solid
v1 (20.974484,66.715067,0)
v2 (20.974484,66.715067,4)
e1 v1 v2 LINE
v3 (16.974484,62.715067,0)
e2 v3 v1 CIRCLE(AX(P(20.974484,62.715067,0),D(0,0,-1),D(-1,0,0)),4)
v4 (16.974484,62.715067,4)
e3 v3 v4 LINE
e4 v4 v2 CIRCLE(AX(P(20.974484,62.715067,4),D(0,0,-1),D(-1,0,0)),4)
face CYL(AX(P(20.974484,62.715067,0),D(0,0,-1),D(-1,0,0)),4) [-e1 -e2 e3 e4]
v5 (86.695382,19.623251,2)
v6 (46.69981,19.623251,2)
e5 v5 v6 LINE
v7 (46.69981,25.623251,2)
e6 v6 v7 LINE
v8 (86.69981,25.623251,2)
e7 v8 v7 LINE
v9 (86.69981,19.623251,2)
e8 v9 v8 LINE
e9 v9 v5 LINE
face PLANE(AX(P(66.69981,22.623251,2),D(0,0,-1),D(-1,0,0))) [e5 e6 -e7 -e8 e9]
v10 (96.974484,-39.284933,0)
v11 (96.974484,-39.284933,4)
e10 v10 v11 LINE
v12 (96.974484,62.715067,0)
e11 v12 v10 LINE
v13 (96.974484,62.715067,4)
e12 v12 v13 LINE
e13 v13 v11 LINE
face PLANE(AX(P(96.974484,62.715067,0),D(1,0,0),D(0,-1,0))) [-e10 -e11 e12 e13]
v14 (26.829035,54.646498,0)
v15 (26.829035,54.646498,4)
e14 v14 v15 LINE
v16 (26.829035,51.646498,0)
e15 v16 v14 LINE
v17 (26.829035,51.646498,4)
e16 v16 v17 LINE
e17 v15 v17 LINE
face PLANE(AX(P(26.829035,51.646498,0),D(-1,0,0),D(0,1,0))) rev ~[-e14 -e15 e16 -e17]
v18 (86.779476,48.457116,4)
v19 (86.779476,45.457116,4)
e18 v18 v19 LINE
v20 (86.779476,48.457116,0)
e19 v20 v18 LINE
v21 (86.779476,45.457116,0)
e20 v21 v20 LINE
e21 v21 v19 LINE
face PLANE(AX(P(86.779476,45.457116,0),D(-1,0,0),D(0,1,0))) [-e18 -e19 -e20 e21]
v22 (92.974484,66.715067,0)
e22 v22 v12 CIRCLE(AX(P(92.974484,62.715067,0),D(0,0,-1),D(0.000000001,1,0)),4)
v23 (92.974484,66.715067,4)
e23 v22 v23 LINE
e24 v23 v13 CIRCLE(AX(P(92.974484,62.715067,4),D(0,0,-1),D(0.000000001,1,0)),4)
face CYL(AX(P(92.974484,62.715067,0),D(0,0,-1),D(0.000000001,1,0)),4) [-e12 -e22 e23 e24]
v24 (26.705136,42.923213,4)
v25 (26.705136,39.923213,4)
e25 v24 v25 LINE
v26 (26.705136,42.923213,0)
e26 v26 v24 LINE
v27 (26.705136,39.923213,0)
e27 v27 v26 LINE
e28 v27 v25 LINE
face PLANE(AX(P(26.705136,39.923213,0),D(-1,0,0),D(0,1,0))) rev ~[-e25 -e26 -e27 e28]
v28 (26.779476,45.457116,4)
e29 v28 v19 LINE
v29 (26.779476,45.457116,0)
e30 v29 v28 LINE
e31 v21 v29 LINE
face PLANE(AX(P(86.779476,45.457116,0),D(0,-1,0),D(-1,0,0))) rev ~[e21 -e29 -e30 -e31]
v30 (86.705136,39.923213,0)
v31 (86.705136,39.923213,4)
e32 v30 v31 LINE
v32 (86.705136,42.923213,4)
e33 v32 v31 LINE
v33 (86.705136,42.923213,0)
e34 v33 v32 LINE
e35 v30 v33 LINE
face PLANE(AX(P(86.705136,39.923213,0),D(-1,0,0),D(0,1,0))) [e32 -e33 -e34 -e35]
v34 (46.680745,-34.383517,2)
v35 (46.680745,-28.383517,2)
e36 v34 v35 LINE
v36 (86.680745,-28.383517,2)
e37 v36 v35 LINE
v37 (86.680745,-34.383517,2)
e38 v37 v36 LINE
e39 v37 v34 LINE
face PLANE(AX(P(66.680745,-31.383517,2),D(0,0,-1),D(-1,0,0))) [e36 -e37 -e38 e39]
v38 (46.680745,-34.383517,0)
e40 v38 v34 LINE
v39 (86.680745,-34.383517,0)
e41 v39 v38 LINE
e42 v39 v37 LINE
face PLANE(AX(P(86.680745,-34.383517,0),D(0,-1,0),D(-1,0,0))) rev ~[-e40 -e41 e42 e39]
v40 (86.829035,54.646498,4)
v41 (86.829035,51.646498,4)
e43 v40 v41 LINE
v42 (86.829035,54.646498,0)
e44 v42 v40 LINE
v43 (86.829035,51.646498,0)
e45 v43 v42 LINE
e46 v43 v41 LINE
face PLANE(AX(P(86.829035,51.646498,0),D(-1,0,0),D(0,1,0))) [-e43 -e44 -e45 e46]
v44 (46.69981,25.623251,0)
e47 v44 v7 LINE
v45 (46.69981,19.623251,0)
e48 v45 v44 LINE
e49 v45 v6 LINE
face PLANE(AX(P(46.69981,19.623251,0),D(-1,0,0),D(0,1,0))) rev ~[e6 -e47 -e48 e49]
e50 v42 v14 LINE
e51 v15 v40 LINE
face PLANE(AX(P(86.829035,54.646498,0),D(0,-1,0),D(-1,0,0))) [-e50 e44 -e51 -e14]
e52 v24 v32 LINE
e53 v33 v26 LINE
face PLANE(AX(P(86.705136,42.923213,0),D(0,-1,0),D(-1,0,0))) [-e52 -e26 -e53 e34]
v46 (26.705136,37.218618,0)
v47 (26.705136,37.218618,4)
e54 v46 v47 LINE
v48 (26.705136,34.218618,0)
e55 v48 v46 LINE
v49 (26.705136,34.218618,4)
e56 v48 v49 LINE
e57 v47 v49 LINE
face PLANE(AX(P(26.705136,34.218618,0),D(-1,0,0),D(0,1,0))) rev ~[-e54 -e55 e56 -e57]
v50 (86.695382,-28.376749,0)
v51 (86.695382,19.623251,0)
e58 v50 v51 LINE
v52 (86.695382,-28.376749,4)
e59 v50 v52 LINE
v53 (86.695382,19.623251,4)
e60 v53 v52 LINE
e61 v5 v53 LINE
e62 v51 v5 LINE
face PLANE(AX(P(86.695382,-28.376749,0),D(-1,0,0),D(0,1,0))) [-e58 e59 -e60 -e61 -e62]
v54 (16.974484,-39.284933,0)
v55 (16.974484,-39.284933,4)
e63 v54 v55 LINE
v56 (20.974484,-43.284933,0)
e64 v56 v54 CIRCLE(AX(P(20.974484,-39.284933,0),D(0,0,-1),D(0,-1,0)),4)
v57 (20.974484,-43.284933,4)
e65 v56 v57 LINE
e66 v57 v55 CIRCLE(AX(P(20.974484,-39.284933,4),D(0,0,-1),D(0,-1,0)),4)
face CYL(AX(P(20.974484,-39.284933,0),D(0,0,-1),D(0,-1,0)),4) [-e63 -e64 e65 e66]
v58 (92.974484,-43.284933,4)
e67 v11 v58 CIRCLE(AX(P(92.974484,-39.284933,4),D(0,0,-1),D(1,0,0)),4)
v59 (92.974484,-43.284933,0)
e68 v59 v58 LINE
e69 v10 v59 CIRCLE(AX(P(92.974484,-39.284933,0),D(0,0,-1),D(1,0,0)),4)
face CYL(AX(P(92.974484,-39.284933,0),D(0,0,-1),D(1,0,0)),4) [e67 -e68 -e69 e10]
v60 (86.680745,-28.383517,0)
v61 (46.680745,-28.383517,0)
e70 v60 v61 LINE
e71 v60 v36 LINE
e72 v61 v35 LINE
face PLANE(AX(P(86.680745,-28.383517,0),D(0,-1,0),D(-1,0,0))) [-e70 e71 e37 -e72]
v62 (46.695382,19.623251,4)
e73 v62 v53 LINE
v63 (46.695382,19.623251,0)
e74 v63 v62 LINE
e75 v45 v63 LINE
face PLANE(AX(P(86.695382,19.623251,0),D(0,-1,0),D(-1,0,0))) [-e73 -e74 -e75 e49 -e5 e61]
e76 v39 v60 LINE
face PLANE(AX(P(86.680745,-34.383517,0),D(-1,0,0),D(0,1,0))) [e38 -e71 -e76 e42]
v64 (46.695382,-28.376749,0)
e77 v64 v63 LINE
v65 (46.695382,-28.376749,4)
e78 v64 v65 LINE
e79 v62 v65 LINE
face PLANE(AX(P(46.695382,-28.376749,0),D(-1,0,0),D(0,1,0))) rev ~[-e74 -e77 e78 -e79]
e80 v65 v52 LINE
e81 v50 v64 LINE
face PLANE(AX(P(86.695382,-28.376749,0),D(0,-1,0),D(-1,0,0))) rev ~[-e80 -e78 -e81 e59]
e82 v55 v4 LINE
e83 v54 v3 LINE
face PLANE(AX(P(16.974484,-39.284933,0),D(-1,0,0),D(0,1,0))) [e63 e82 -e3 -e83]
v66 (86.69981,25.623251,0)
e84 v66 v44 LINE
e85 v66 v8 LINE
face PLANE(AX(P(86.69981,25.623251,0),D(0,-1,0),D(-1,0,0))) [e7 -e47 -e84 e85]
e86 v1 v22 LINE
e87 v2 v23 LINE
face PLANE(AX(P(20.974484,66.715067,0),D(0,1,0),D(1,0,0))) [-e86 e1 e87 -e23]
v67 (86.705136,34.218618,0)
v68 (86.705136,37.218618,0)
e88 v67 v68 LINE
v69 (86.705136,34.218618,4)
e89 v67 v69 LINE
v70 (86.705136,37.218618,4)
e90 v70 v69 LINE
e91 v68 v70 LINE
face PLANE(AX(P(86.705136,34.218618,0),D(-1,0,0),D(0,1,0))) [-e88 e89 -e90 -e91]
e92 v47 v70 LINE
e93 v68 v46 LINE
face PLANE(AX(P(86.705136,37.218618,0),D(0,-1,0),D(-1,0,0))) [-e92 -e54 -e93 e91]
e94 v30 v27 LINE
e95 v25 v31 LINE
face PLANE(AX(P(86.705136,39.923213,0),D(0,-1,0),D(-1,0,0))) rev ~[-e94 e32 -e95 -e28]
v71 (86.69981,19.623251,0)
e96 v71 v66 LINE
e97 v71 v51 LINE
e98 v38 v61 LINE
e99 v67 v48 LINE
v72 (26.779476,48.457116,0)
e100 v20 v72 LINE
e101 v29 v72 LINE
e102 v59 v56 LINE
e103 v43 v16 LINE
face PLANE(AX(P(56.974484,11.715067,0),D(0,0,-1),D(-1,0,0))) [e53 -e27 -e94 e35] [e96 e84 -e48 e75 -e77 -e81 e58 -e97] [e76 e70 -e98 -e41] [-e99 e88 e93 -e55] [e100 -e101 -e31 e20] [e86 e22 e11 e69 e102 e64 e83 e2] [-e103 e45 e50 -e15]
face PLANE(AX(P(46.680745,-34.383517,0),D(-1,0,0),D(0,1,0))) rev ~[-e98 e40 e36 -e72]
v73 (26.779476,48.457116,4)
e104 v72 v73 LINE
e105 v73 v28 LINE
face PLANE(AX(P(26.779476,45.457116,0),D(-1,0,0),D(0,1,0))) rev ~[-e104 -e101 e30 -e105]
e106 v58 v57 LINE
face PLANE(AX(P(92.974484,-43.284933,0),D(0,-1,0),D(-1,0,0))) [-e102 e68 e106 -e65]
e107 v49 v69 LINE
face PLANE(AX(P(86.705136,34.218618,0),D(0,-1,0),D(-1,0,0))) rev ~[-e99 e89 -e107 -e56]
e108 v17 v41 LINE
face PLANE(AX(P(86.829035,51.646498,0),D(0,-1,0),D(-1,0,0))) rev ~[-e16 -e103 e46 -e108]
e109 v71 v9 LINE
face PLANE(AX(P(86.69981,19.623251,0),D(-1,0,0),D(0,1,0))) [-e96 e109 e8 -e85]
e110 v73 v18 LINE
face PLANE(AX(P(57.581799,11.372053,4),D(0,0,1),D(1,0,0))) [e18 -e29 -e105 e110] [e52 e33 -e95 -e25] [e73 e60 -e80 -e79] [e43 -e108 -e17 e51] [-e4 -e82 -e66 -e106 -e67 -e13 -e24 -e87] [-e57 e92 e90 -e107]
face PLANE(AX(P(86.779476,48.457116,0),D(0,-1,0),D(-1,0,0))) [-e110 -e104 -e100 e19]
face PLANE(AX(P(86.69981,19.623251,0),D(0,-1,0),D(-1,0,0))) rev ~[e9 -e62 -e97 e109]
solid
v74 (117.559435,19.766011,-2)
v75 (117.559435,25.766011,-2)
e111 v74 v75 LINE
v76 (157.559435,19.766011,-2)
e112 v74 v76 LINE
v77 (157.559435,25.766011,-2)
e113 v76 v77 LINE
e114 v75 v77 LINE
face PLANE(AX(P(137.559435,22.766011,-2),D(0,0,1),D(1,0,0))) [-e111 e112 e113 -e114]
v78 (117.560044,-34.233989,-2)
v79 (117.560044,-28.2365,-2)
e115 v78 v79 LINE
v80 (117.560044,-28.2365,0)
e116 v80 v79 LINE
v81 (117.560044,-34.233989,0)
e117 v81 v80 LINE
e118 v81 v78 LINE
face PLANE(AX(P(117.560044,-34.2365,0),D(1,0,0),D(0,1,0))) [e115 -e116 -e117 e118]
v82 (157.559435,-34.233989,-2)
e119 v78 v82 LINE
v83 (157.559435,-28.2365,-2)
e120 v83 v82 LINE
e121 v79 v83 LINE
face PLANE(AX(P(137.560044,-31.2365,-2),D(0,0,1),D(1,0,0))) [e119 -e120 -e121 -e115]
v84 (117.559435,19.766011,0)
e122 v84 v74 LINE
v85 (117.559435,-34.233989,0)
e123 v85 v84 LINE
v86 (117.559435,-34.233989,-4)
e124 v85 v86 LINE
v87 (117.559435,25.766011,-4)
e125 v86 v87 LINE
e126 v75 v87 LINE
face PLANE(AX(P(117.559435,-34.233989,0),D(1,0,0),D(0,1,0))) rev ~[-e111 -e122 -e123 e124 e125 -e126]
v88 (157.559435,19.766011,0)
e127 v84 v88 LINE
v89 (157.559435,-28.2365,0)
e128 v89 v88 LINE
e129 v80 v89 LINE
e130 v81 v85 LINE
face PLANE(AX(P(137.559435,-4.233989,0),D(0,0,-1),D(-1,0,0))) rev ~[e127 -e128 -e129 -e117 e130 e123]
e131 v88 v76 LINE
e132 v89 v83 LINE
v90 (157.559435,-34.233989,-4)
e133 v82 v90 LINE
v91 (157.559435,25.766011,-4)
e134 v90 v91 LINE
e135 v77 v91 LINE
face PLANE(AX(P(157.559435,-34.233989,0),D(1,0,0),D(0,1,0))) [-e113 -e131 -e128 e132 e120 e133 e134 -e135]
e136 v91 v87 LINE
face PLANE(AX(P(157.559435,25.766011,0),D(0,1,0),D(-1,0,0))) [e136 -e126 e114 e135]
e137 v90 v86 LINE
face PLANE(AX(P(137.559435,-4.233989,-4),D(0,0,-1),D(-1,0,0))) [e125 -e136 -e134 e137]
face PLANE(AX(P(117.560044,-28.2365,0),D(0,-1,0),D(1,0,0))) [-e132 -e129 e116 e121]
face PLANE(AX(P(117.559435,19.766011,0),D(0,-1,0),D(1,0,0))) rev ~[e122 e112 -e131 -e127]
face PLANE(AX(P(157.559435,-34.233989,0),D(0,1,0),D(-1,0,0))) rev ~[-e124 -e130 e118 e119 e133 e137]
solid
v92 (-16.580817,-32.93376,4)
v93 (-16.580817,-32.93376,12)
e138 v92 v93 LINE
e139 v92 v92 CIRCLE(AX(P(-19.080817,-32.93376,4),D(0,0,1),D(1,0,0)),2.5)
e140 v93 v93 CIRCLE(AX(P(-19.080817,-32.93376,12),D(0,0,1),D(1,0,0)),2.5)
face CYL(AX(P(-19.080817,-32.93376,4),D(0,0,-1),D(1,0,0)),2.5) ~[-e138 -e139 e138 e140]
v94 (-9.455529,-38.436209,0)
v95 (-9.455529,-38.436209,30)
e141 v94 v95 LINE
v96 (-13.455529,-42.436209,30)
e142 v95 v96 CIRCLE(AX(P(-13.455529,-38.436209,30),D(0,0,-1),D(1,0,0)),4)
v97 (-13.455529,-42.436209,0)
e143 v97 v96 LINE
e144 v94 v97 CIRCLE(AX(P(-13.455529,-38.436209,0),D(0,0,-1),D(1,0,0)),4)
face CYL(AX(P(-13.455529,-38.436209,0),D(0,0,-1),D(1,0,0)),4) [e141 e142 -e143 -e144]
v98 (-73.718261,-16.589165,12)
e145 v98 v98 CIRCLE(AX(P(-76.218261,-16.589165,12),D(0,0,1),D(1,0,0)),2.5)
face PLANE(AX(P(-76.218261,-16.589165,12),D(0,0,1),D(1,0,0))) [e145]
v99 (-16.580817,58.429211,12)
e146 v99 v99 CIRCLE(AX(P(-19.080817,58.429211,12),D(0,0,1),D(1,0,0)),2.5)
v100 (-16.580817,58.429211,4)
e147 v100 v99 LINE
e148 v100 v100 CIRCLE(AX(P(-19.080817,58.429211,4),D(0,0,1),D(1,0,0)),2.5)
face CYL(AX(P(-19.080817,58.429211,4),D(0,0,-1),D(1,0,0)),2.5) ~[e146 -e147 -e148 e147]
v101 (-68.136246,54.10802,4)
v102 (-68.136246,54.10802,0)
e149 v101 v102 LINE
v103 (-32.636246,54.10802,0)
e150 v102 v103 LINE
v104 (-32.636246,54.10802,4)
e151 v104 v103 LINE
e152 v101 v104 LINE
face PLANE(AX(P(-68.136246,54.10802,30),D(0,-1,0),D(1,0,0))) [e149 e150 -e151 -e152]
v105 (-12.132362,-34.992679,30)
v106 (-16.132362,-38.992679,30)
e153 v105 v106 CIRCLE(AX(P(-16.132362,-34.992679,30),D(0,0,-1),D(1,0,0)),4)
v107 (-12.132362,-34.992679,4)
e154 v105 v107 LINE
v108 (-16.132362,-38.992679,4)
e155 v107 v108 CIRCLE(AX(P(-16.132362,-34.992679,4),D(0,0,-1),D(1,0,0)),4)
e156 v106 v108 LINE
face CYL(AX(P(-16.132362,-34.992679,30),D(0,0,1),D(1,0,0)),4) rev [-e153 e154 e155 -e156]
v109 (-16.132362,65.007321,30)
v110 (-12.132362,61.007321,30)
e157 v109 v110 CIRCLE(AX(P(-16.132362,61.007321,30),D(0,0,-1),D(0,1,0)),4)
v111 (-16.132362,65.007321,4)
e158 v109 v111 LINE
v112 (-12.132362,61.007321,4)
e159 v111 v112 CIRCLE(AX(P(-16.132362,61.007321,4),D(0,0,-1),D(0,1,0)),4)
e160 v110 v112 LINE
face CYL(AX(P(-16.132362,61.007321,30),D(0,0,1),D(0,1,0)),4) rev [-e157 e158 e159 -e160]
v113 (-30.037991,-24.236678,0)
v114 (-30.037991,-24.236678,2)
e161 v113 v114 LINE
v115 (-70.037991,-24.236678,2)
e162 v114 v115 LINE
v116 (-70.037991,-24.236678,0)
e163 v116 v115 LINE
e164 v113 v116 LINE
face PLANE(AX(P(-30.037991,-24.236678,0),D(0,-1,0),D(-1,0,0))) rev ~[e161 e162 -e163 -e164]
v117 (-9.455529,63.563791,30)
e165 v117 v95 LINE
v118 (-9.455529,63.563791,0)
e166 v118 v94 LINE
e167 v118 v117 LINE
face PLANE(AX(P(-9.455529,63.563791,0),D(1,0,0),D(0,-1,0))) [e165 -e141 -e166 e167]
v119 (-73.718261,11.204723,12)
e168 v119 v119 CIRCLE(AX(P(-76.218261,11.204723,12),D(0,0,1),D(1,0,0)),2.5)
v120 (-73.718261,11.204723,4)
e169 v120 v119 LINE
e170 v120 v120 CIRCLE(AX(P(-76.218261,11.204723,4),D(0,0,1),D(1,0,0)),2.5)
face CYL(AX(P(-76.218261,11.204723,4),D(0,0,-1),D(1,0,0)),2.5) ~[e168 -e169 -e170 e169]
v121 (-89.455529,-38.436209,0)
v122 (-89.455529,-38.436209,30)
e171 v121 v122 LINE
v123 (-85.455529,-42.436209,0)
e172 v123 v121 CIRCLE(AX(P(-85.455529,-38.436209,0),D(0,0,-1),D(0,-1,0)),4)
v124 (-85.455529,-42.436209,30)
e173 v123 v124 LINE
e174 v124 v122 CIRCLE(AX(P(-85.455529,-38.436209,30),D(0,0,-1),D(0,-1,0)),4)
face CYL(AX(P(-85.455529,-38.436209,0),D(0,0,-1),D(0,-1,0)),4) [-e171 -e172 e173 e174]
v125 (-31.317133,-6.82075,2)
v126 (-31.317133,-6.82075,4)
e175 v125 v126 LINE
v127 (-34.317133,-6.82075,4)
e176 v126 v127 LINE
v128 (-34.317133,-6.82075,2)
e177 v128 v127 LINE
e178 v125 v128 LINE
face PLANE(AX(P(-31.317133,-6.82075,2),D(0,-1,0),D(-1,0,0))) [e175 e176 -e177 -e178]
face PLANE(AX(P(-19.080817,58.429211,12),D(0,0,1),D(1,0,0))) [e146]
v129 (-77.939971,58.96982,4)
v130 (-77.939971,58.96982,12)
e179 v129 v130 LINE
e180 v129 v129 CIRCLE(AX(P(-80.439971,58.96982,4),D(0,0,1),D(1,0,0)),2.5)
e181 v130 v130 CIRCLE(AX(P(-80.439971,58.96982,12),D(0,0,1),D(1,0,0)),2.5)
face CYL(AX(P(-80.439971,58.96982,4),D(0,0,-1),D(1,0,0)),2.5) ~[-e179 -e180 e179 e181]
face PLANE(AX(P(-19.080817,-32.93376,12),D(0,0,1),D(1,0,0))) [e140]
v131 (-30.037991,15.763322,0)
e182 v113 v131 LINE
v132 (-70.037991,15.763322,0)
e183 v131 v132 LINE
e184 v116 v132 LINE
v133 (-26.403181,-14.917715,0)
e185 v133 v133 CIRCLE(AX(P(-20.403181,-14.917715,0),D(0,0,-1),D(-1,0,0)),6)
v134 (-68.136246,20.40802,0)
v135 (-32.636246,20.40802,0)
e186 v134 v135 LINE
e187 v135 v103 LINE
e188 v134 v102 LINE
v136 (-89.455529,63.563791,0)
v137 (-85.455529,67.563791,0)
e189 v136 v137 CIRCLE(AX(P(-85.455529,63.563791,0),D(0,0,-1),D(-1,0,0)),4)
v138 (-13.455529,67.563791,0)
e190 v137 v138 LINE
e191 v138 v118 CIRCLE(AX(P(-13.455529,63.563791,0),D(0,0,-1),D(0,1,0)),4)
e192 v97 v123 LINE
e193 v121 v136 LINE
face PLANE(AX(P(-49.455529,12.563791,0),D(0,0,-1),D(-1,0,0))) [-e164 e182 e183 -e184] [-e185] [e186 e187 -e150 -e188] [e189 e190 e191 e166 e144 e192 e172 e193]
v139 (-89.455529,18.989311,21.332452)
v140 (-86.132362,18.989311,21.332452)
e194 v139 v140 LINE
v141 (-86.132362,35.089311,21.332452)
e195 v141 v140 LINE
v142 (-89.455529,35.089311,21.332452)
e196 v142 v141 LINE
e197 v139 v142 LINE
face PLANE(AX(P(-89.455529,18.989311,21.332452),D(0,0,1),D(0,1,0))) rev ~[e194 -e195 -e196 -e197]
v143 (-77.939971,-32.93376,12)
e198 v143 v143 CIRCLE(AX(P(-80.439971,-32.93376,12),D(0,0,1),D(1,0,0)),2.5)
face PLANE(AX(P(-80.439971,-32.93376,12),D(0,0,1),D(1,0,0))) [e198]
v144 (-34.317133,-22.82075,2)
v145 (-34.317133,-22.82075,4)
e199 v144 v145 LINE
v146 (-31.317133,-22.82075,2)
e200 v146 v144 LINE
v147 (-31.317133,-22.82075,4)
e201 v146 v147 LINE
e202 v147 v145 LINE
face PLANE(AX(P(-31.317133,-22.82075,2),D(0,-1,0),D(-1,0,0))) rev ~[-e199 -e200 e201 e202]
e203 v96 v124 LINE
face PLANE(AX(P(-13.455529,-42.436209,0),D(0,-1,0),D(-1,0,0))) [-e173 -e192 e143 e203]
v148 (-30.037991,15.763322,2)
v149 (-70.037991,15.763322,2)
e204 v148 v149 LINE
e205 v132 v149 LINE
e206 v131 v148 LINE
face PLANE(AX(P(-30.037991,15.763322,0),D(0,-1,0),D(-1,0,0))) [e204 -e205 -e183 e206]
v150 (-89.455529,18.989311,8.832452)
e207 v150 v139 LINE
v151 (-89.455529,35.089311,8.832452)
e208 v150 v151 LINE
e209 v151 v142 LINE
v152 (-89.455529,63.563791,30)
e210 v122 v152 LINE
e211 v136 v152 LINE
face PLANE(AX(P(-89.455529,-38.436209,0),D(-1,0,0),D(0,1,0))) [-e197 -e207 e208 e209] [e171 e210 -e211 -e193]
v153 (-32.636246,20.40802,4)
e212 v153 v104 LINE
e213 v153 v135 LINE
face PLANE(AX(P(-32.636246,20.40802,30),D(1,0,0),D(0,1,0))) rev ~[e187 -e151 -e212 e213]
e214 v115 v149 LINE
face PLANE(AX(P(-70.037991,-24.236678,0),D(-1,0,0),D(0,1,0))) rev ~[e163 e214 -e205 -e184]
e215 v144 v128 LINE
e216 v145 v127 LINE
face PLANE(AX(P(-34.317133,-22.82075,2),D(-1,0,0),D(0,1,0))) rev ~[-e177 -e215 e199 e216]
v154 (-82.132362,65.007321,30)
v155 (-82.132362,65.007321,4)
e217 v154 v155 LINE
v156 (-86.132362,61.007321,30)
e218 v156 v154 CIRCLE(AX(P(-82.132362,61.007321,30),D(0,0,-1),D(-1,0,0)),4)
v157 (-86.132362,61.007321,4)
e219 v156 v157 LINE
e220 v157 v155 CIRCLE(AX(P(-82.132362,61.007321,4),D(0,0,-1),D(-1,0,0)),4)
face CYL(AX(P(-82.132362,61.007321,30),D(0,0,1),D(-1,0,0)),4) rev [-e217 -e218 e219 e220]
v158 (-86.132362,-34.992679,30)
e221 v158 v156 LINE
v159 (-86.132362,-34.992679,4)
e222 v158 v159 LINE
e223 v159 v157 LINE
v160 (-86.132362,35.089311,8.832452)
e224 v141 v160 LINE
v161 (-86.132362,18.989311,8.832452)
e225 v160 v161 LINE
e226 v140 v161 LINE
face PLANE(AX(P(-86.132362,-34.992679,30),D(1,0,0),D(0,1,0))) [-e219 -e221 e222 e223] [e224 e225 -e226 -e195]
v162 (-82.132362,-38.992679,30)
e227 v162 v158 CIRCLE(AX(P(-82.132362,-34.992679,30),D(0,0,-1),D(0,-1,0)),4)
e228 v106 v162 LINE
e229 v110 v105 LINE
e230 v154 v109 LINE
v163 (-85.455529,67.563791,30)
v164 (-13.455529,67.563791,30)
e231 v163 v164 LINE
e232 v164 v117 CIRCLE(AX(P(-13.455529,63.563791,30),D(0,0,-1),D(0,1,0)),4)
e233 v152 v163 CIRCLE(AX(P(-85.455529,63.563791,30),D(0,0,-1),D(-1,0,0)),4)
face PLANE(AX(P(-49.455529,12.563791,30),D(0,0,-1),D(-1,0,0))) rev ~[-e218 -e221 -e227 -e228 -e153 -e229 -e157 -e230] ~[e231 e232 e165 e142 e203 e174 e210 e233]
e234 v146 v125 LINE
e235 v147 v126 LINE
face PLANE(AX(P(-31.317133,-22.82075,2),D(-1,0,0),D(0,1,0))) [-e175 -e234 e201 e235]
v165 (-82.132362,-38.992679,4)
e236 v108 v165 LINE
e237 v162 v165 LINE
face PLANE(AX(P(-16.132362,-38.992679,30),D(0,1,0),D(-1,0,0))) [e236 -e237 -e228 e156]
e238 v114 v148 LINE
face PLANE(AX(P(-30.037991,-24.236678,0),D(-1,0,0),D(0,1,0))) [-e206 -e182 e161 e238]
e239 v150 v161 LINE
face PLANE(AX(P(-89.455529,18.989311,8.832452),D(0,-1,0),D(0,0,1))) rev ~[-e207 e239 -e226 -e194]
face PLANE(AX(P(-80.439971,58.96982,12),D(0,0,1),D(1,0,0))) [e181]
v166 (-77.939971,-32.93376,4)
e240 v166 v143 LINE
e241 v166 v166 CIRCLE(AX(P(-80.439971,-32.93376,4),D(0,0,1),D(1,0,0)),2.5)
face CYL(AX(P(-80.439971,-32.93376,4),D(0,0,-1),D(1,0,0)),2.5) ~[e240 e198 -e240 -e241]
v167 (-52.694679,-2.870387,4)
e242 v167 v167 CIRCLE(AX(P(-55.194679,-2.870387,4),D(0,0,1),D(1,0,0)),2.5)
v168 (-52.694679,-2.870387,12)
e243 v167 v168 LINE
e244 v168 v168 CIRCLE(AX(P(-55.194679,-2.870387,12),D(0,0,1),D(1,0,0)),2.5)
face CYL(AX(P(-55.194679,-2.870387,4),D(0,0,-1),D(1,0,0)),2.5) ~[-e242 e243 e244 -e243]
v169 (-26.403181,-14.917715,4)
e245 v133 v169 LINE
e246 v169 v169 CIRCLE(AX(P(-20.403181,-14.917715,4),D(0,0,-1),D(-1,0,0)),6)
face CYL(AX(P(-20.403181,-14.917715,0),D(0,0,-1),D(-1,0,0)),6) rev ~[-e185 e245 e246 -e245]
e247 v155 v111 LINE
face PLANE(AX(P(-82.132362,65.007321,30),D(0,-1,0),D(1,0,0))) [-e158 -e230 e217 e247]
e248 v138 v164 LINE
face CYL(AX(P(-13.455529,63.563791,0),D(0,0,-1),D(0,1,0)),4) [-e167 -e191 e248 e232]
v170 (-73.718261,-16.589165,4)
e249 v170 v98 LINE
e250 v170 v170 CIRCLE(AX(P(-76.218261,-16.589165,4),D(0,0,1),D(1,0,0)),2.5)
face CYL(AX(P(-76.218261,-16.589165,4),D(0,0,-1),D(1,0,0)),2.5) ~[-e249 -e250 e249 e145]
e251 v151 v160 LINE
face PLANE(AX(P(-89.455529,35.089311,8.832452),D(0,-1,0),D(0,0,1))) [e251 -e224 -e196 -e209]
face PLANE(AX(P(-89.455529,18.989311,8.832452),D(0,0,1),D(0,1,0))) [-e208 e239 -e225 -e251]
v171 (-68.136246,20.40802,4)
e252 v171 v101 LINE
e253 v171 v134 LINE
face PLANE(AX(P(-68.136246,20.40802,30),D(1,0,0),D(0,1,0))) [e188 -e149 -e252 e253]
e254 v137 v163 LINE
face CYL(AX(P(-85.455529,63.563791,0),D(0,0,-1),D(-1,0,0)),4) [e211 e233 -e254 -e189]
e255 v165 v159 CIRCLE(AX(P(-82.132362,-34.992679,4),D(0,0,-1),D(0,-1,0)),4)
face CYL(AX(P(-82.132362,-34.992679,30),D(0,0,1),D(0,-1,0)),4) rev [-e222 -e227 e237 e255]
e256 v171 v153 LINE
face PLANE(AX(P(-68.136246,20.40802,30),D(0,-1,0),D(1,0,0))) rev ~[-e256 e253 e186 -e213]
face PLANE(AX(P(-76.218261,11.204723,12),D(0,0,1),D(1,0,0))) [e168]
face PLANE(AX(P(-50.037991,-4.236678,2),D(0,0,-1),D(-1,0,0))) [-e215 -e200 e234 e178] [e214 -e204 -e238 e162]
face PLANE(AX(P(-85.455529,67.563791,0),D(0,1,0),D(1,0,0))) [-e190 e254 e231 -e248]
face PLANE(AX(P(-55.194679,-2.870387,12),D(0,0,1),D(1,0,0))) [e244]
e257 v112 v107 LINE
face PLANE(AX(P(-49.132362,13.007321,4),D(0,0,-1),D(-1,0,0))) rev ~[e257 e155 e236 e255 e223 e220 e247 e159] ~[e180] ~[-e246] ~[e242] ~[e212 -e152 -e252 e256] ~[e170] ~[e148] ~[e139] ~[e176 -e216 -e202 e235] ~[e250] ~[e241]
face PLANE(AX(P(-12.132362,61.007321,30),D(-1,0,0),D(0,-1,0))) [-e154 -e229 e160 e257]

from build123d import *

# Parameters (mm, degrees)
BOSS_EXTRUDE1_DEPTH     = 30
BOSS_EXTRUDE1_2_DEPTH   = 30
CUT_EXTRUDE1_DEPTH      = 30
CUT_EXTRUDE1_DEPTH_BACK = 30
SKETCH2_W               = 35.5
SKETCH2_H               = 33.7
CUT_EXTRUDE3_DEPTH      = 26
SKETCH6_R               = 2.5
BOSS_EXTRUDE4_DEPTH     = 8
SKETCH7_W               = 40
SKETCH7_H               = 40
CUT_EXTRUDE4_DEPTH      = 2
SKETCH8_W               = 3
SKETCH8_H               = 16
CUT_EXTRUDE6_DEPTH      = 10
SKETCH9_R               = 6
CUT_EXTRUDE7_DEPTH      = 10
SKETCH10_W              = 12.5
SKETCH10_H              = 16.1
CUT_EXTRUDE8_DEPTH      = 10
SKETCH11_W              = 95.321687865
SKETCH11_H              = 120.330039434
CUT_EXTRUDE9_DEPTH      = 26
SKETCH12_W              = 60
SKETCH12_H              = 3
CUT_EXTRUDE10_DEPTH     = 10
SKETCH13_W              = 40
SKETCH13_H              = 48
CUT_EXTRUDE11_DEPTH     = 10
SKETCH14_W              = 40
SKETCH14_H              = 60
BOSS_EXTRUDE5_DEPTH     = 4
SKETCH15_W              = 40
SKETCH15_H              = 6
CUT_EXTRUDE12_DEPTH     = 2
SKETCH16_W              = 40
SKETCH16_H              = 6
CUT_EXTRUDE16_DEPTH     = 2


with BuildPart() as part:
    # Sketch1 → Boss-Extrude1 (new body)
    with BuildSketch(Plane.XY):
        with BuildLine():
            Line((20.974483597, 66.715066829), (92.974483597, 66.715066829))
            ThreePointArc((92.974483597, 66.715066829), (95.802910721, 65.543493953), (96.974483597, 62.715066829))
            Line((96.974483597, 62.715066829), (96.974483597, -39.284933171))
            ThreePointArc((96.974483597, -39.284933171), (95.802910721, -42.113360296), (92.974483597, -43.284933171))
            Line((92.974483597, -43.284933171), (20.974483597, -43.284933171))
            ThreePointArc((20.974483597, -43.284933171), (18.146056472, -42.113360296), (16.974483597, -39.284933171))
            Line((16.974483597, -39.284933171), (16.974483597, 62.715066829))
            ThreePointArc((16.974483597, 62.715066829), (18.146056472, 65.543493953), (20.974483597, 66.715066829))
        make_face()
    extrude(amount=BOSS_EXTRUDE1_DEPTH)


with BuildPart() as body_2:
    # Sketch1 → Boss-Extrude1 2 (new body)
    with BuildSketch(Plane.XY):
        with BuildLine():
            Line((-85.455528554, 67.563791009), (-13.455528554, 67.563791009))
            ThreePointArc((-13.455528554, 67.563791009), (-10.627101429, 66.392218133), (-9.455528554, 63.563791009))
            Line((-9.455528554, 63.563791009), (-9.455528554, -38.436208991))
            ThreePointArc((-9.455528554, -38.436208991), (-10.627101429, -41.264636116), (-13.455528554, -42.436208991))
            Line((-13.455528554, -42.436208991), (-85.455528554, -42.436208991))
            ThreePointArc((-85.455528554, -42.436208991), (-88.283955679, -41.264636116), (-89.455528554, -38.436208991))
            Line((-89.455528554, -38.436208991), (-89.455528554, 63.563791009))
            ThreePointArc((-89.455528554, 63.563791009), (-88.283955679, 66.392218133), (-85.455528554, 67.563791009))
        make_face()
    extrude(amount=BOSS_EXTRUDE1_2_DEPTH)

    # Sketch2 → Cut-Extrude1 (cut, two sides: drawn at the far end of the back side and taken through both)
    with BuildSketch(Plane.XY.offset(30).offset(-CUT_EXTRUDE1_DEPTH_BACK)):
        with Locations((-50.386245778, 37.25801999)):
            Rectangle(SKETCH2_W, SKETCH2_H)
    extrude(amount=CUT_EXTRUDE1_DEPTH + CUT_EXTRUDE1_DEPTH_BACK, mode=Mode.SUBTRACT)


with BuildPart() as cut_extrude3_tool:
    # Sketch4 → Cut-Extrude3 (new body)
    with BuildSketch(Plane.XY.offset(30)):
        with BuildLine():
            Line((23.91157104, 63.897821022), (89.91157104, 63.897821022))
            ThreePointArc((89.91157104, 63.897821022), (92.739998164, 62.726248147), (93.91157104, 59.897821022))
            Line((93.91157104, 59.897821022), (93.91157104, -36.102178978))
            ThreePointArc((93.91157104, -36.102178978), (92.739998164, -38.930606103), (89.91157104, -40.102178978))
            Line((89.91157104, -40.102178978), (23.91157104, -40.102178978))
            ThreePointArc((23.91157104, -40.102178978), (21.083143915, -38.930606103), (19.91157104, -36.102178978))
            Line((19.91157104, -36.102178978), (19.91157104, 59.897821022))
            ThreePointArc((19.91157104, 59.897821022), (21.083143915, 62.726248147), (23.91157104, 63.897821022))
        make_face()
        with BuildLine():
            Line((-82.132362374, 65.007321048), (-16.132362374, 65.007321048))
            ThreePointArc((-16.132362374, 65.007321048), (-13.303935249, 63.835748173), (-12.132362374, 61.007321048))
            Line((-12.132362374, 61.007321048), (-12.132362374, -34.992678952))
            ThreePointArc((-12.132362374, -34.992678952), (-13.303935249, -37.821106077), (-16.132362374, -38.992678952))
            Line((-16.132362374, -38.992678952), (-82.132362374, -38.992678952))
            ThreePointArc((-82.132362374, -38.992678952), (-84.960789499, -37.821106077), (-86.132362374, -34.992678952))
            Line((-86.132362374, -34.992678952), (-86.132362374, 61.007321048))
            ThreePointArc((-86.132362374, 61.007321048), (-84.960789499, 63.835748173), (-82.132362374, 65.007321048))
        make_face()
    extrude(amount=-CUT_EXTRUDE3_DEPTH)


with BuildPart() as part_1:
    add(part.part)

    # Cut-Extrude3: cut by cut_extrude3_tool
    add(cut_extrude3_tool.part, mode=Mode.SUBTRACT)

    # Sketch11 → Cut-Extrude9 (cut)
    with BuildSketch(Plane.XY.offset(30)):
        with Locations((57.581799377, 11.372053132)):
            Rectangle(SKETCH11_W, SKETCH11_H)
    extrude(amount=-CUT_EXTRUDE9_DEPTH, mode=Mode.SUBTRACT)

    # Sketch12 → Cut-Extrude10 (cut)
    with BuildSketch(Plane(origin=(0, 0, 0), x_dir=(-1, 0, 0), z_dir=(0, 0, -1))):
        with Locations((-56.77947587, 46.957115984)):
            Rectangle(SKETCH12_W, SKETCH12_H)
        with Locations((-56.829034644, 53.146498435)):
            Rectangle(SKETCH12_W, SKETCH12_H)
        with Locations((-56.705135858, 41.423213074)):
            Rectangle(SKETCH12_W, SKETCH12_H)
        with Locations((-56.705135858, 35.718618338)):
            Rectangle(SKETCH12_W, SKETCH12_H)
    extrude(amount=-CUT_EXTRUDE10_DEPTH, mode=Mode.SUBTRACT)

    # Sketch13 → Cut-Extrude11 (cut)
    with BuildSketch(Plane(origin=(0, 0, 0), x_dir=(-1, 0, 0), z_dir=(0, 0, -1))):
        with Locations((-66.695382207, -4.37674857)):
            Rectangle(SKETCH13_W, SKETCH13_H)
    extrude(amount=-CUT_EXTRUDE11_DEPTH, mode=Mode.SUBTRACT)

    # Sketch15 → Cut-Extrude12 (cut)
    with BuildSketch(Plane(origin=(0, 0, 0), x_dir=(-1, 0, 0), z_dir=(0, 0, -1))):
        with Locations((-66.699810311, 22.62325143)):
            Rectangle(SKETCH15_W, SKETCH15_H)
        with Locations((-66.680744565, -31.383516818)):
            Rectangle(SKETCH15_W, SKETCH15_H)
    extrude(amount=-CUT_EXTRUDE12_DEPTH, mode=Mode.SUBTRACT)


with BuildPart() as body_2_1:
    add(body_2.part)

    # Cut-Extrude3: cut by cut_extrude3_tool
    add(cut_extrude3_tool.part, mode=Mode.SUBTRACT)

    # Sketch6 → Boss-Extrude4 (add)
    with BuildSketch(Plane.XY.offset(4)):
        with Locations((-80.439971439, 58.969820131)):
            Circle(SKETCH6_R)
        with Locations((-80.439971439, -32.933759837)):
            Circle(SKETCH6_R)
        with Locations((-19.080816578, 58.429210837)):
            Circle(SKETCH6_R)
        with Locations((-19.080816578, -32.933759837)):
            Circle(SKETCH6_R)
        with Locations((-76.2182608, -16.589165255)):
            Circle(SKETCH6_R)
        with Locations((-76.2182608, 11.204722955)):
            Circle(SKETCH6_R)
        with Locations((-55.194678693, -2.8703871)):
            Circle(SKETCH6_R)
    extrude(amount=BOSS_EXTRUDE4_DEPTH)

    # Sketch7 → Cut-Extrude4 (cut)
    with BuildSketch(Plane(origin=(0, 0, 0), x_dir=(-1, 0, 0), z_dir=(0, 0, -1))):
        with Locations((50.037991375, -4.23667758)):
            Rectangle(SKETCH7_W, SKETCH7_H)
    extrude(amount=-CUT_EXTRUDE4_DEPTH, mode=Mode.SUBTRACT)

    # Sketch8 → Cut-Extrude6 (cut)
    with BuildSketch(Plane(origin=(0, 0, 2), x_dir=(-1, 0, 0), z_dir=(0, 0, -1))):
        with Locations((32.817132527, -14.820749727)):
            Rectangle(SKETCH8_W, SKETCH8_H)
    extrude(amount=-CUT_EXTRUDE6_DEPTH, mode=Mode.SUBTRACT)

    # Sketch9 → Cut-Extrude7 (cut)
    with BuildSketch(Plane(origin=(0, 0, 0), x_dir=(-1, 0, 0), z_dir=(0, 0, -1))):
        with Locations((20.403181, -14.917714738)):
            Circle(SKETCH9_R)
    extrude(amount=-CUT_EXTRUDE7_DEPTH, mode=Mode.SUBTRACT)

    # Sketch10 → Cut-Extrude8 (cut)
    with BuildSketch(Plane.ZY.offset(89.455528554)):
        with Locations((15.082452047, 27.039311298)):
            Rectangle(SKETCH10_W, SKETCH10_H)
    extrude(amount=-CUT_EXTRUDE8_DEPTH, mode=Mode.SUBTRACT)


with BuildPart() as body_3:
    # Sketch14 → Boss-Extrude5 (new body)
    with BuildSketch(Plane(origin=(3.927933069, 1.340530515, 0), x_dir=(-1, 0, 0), z_dir=(0, 0, -1))):
        with Locations((-133.631501649, -5.574519781)):
            Rectangle(SKETCH14_W, SKETCH14_H)
    extrude(amount=BOSS_EXTRUDE5_DEPTH)

    # Sketch16 → Cut-Extrude16 (cut)
    with BuildSketch(Plane.XY):
        with Locations((137.559434718, 22.766010733)):
            Rectangle(SKETCH16_W, SKETCH16_H)
        with Locations((137.560044489, -31.236499994)):
            Rectangle(SKETCH16_W, SKETCH16_H)
    extrude(amount=-CUT_EXTRUDE16_DEPTH, mode=Mode.SUBTRACT)


solid = Compound([part_1.part, body_2_1.part, body_3.part])
